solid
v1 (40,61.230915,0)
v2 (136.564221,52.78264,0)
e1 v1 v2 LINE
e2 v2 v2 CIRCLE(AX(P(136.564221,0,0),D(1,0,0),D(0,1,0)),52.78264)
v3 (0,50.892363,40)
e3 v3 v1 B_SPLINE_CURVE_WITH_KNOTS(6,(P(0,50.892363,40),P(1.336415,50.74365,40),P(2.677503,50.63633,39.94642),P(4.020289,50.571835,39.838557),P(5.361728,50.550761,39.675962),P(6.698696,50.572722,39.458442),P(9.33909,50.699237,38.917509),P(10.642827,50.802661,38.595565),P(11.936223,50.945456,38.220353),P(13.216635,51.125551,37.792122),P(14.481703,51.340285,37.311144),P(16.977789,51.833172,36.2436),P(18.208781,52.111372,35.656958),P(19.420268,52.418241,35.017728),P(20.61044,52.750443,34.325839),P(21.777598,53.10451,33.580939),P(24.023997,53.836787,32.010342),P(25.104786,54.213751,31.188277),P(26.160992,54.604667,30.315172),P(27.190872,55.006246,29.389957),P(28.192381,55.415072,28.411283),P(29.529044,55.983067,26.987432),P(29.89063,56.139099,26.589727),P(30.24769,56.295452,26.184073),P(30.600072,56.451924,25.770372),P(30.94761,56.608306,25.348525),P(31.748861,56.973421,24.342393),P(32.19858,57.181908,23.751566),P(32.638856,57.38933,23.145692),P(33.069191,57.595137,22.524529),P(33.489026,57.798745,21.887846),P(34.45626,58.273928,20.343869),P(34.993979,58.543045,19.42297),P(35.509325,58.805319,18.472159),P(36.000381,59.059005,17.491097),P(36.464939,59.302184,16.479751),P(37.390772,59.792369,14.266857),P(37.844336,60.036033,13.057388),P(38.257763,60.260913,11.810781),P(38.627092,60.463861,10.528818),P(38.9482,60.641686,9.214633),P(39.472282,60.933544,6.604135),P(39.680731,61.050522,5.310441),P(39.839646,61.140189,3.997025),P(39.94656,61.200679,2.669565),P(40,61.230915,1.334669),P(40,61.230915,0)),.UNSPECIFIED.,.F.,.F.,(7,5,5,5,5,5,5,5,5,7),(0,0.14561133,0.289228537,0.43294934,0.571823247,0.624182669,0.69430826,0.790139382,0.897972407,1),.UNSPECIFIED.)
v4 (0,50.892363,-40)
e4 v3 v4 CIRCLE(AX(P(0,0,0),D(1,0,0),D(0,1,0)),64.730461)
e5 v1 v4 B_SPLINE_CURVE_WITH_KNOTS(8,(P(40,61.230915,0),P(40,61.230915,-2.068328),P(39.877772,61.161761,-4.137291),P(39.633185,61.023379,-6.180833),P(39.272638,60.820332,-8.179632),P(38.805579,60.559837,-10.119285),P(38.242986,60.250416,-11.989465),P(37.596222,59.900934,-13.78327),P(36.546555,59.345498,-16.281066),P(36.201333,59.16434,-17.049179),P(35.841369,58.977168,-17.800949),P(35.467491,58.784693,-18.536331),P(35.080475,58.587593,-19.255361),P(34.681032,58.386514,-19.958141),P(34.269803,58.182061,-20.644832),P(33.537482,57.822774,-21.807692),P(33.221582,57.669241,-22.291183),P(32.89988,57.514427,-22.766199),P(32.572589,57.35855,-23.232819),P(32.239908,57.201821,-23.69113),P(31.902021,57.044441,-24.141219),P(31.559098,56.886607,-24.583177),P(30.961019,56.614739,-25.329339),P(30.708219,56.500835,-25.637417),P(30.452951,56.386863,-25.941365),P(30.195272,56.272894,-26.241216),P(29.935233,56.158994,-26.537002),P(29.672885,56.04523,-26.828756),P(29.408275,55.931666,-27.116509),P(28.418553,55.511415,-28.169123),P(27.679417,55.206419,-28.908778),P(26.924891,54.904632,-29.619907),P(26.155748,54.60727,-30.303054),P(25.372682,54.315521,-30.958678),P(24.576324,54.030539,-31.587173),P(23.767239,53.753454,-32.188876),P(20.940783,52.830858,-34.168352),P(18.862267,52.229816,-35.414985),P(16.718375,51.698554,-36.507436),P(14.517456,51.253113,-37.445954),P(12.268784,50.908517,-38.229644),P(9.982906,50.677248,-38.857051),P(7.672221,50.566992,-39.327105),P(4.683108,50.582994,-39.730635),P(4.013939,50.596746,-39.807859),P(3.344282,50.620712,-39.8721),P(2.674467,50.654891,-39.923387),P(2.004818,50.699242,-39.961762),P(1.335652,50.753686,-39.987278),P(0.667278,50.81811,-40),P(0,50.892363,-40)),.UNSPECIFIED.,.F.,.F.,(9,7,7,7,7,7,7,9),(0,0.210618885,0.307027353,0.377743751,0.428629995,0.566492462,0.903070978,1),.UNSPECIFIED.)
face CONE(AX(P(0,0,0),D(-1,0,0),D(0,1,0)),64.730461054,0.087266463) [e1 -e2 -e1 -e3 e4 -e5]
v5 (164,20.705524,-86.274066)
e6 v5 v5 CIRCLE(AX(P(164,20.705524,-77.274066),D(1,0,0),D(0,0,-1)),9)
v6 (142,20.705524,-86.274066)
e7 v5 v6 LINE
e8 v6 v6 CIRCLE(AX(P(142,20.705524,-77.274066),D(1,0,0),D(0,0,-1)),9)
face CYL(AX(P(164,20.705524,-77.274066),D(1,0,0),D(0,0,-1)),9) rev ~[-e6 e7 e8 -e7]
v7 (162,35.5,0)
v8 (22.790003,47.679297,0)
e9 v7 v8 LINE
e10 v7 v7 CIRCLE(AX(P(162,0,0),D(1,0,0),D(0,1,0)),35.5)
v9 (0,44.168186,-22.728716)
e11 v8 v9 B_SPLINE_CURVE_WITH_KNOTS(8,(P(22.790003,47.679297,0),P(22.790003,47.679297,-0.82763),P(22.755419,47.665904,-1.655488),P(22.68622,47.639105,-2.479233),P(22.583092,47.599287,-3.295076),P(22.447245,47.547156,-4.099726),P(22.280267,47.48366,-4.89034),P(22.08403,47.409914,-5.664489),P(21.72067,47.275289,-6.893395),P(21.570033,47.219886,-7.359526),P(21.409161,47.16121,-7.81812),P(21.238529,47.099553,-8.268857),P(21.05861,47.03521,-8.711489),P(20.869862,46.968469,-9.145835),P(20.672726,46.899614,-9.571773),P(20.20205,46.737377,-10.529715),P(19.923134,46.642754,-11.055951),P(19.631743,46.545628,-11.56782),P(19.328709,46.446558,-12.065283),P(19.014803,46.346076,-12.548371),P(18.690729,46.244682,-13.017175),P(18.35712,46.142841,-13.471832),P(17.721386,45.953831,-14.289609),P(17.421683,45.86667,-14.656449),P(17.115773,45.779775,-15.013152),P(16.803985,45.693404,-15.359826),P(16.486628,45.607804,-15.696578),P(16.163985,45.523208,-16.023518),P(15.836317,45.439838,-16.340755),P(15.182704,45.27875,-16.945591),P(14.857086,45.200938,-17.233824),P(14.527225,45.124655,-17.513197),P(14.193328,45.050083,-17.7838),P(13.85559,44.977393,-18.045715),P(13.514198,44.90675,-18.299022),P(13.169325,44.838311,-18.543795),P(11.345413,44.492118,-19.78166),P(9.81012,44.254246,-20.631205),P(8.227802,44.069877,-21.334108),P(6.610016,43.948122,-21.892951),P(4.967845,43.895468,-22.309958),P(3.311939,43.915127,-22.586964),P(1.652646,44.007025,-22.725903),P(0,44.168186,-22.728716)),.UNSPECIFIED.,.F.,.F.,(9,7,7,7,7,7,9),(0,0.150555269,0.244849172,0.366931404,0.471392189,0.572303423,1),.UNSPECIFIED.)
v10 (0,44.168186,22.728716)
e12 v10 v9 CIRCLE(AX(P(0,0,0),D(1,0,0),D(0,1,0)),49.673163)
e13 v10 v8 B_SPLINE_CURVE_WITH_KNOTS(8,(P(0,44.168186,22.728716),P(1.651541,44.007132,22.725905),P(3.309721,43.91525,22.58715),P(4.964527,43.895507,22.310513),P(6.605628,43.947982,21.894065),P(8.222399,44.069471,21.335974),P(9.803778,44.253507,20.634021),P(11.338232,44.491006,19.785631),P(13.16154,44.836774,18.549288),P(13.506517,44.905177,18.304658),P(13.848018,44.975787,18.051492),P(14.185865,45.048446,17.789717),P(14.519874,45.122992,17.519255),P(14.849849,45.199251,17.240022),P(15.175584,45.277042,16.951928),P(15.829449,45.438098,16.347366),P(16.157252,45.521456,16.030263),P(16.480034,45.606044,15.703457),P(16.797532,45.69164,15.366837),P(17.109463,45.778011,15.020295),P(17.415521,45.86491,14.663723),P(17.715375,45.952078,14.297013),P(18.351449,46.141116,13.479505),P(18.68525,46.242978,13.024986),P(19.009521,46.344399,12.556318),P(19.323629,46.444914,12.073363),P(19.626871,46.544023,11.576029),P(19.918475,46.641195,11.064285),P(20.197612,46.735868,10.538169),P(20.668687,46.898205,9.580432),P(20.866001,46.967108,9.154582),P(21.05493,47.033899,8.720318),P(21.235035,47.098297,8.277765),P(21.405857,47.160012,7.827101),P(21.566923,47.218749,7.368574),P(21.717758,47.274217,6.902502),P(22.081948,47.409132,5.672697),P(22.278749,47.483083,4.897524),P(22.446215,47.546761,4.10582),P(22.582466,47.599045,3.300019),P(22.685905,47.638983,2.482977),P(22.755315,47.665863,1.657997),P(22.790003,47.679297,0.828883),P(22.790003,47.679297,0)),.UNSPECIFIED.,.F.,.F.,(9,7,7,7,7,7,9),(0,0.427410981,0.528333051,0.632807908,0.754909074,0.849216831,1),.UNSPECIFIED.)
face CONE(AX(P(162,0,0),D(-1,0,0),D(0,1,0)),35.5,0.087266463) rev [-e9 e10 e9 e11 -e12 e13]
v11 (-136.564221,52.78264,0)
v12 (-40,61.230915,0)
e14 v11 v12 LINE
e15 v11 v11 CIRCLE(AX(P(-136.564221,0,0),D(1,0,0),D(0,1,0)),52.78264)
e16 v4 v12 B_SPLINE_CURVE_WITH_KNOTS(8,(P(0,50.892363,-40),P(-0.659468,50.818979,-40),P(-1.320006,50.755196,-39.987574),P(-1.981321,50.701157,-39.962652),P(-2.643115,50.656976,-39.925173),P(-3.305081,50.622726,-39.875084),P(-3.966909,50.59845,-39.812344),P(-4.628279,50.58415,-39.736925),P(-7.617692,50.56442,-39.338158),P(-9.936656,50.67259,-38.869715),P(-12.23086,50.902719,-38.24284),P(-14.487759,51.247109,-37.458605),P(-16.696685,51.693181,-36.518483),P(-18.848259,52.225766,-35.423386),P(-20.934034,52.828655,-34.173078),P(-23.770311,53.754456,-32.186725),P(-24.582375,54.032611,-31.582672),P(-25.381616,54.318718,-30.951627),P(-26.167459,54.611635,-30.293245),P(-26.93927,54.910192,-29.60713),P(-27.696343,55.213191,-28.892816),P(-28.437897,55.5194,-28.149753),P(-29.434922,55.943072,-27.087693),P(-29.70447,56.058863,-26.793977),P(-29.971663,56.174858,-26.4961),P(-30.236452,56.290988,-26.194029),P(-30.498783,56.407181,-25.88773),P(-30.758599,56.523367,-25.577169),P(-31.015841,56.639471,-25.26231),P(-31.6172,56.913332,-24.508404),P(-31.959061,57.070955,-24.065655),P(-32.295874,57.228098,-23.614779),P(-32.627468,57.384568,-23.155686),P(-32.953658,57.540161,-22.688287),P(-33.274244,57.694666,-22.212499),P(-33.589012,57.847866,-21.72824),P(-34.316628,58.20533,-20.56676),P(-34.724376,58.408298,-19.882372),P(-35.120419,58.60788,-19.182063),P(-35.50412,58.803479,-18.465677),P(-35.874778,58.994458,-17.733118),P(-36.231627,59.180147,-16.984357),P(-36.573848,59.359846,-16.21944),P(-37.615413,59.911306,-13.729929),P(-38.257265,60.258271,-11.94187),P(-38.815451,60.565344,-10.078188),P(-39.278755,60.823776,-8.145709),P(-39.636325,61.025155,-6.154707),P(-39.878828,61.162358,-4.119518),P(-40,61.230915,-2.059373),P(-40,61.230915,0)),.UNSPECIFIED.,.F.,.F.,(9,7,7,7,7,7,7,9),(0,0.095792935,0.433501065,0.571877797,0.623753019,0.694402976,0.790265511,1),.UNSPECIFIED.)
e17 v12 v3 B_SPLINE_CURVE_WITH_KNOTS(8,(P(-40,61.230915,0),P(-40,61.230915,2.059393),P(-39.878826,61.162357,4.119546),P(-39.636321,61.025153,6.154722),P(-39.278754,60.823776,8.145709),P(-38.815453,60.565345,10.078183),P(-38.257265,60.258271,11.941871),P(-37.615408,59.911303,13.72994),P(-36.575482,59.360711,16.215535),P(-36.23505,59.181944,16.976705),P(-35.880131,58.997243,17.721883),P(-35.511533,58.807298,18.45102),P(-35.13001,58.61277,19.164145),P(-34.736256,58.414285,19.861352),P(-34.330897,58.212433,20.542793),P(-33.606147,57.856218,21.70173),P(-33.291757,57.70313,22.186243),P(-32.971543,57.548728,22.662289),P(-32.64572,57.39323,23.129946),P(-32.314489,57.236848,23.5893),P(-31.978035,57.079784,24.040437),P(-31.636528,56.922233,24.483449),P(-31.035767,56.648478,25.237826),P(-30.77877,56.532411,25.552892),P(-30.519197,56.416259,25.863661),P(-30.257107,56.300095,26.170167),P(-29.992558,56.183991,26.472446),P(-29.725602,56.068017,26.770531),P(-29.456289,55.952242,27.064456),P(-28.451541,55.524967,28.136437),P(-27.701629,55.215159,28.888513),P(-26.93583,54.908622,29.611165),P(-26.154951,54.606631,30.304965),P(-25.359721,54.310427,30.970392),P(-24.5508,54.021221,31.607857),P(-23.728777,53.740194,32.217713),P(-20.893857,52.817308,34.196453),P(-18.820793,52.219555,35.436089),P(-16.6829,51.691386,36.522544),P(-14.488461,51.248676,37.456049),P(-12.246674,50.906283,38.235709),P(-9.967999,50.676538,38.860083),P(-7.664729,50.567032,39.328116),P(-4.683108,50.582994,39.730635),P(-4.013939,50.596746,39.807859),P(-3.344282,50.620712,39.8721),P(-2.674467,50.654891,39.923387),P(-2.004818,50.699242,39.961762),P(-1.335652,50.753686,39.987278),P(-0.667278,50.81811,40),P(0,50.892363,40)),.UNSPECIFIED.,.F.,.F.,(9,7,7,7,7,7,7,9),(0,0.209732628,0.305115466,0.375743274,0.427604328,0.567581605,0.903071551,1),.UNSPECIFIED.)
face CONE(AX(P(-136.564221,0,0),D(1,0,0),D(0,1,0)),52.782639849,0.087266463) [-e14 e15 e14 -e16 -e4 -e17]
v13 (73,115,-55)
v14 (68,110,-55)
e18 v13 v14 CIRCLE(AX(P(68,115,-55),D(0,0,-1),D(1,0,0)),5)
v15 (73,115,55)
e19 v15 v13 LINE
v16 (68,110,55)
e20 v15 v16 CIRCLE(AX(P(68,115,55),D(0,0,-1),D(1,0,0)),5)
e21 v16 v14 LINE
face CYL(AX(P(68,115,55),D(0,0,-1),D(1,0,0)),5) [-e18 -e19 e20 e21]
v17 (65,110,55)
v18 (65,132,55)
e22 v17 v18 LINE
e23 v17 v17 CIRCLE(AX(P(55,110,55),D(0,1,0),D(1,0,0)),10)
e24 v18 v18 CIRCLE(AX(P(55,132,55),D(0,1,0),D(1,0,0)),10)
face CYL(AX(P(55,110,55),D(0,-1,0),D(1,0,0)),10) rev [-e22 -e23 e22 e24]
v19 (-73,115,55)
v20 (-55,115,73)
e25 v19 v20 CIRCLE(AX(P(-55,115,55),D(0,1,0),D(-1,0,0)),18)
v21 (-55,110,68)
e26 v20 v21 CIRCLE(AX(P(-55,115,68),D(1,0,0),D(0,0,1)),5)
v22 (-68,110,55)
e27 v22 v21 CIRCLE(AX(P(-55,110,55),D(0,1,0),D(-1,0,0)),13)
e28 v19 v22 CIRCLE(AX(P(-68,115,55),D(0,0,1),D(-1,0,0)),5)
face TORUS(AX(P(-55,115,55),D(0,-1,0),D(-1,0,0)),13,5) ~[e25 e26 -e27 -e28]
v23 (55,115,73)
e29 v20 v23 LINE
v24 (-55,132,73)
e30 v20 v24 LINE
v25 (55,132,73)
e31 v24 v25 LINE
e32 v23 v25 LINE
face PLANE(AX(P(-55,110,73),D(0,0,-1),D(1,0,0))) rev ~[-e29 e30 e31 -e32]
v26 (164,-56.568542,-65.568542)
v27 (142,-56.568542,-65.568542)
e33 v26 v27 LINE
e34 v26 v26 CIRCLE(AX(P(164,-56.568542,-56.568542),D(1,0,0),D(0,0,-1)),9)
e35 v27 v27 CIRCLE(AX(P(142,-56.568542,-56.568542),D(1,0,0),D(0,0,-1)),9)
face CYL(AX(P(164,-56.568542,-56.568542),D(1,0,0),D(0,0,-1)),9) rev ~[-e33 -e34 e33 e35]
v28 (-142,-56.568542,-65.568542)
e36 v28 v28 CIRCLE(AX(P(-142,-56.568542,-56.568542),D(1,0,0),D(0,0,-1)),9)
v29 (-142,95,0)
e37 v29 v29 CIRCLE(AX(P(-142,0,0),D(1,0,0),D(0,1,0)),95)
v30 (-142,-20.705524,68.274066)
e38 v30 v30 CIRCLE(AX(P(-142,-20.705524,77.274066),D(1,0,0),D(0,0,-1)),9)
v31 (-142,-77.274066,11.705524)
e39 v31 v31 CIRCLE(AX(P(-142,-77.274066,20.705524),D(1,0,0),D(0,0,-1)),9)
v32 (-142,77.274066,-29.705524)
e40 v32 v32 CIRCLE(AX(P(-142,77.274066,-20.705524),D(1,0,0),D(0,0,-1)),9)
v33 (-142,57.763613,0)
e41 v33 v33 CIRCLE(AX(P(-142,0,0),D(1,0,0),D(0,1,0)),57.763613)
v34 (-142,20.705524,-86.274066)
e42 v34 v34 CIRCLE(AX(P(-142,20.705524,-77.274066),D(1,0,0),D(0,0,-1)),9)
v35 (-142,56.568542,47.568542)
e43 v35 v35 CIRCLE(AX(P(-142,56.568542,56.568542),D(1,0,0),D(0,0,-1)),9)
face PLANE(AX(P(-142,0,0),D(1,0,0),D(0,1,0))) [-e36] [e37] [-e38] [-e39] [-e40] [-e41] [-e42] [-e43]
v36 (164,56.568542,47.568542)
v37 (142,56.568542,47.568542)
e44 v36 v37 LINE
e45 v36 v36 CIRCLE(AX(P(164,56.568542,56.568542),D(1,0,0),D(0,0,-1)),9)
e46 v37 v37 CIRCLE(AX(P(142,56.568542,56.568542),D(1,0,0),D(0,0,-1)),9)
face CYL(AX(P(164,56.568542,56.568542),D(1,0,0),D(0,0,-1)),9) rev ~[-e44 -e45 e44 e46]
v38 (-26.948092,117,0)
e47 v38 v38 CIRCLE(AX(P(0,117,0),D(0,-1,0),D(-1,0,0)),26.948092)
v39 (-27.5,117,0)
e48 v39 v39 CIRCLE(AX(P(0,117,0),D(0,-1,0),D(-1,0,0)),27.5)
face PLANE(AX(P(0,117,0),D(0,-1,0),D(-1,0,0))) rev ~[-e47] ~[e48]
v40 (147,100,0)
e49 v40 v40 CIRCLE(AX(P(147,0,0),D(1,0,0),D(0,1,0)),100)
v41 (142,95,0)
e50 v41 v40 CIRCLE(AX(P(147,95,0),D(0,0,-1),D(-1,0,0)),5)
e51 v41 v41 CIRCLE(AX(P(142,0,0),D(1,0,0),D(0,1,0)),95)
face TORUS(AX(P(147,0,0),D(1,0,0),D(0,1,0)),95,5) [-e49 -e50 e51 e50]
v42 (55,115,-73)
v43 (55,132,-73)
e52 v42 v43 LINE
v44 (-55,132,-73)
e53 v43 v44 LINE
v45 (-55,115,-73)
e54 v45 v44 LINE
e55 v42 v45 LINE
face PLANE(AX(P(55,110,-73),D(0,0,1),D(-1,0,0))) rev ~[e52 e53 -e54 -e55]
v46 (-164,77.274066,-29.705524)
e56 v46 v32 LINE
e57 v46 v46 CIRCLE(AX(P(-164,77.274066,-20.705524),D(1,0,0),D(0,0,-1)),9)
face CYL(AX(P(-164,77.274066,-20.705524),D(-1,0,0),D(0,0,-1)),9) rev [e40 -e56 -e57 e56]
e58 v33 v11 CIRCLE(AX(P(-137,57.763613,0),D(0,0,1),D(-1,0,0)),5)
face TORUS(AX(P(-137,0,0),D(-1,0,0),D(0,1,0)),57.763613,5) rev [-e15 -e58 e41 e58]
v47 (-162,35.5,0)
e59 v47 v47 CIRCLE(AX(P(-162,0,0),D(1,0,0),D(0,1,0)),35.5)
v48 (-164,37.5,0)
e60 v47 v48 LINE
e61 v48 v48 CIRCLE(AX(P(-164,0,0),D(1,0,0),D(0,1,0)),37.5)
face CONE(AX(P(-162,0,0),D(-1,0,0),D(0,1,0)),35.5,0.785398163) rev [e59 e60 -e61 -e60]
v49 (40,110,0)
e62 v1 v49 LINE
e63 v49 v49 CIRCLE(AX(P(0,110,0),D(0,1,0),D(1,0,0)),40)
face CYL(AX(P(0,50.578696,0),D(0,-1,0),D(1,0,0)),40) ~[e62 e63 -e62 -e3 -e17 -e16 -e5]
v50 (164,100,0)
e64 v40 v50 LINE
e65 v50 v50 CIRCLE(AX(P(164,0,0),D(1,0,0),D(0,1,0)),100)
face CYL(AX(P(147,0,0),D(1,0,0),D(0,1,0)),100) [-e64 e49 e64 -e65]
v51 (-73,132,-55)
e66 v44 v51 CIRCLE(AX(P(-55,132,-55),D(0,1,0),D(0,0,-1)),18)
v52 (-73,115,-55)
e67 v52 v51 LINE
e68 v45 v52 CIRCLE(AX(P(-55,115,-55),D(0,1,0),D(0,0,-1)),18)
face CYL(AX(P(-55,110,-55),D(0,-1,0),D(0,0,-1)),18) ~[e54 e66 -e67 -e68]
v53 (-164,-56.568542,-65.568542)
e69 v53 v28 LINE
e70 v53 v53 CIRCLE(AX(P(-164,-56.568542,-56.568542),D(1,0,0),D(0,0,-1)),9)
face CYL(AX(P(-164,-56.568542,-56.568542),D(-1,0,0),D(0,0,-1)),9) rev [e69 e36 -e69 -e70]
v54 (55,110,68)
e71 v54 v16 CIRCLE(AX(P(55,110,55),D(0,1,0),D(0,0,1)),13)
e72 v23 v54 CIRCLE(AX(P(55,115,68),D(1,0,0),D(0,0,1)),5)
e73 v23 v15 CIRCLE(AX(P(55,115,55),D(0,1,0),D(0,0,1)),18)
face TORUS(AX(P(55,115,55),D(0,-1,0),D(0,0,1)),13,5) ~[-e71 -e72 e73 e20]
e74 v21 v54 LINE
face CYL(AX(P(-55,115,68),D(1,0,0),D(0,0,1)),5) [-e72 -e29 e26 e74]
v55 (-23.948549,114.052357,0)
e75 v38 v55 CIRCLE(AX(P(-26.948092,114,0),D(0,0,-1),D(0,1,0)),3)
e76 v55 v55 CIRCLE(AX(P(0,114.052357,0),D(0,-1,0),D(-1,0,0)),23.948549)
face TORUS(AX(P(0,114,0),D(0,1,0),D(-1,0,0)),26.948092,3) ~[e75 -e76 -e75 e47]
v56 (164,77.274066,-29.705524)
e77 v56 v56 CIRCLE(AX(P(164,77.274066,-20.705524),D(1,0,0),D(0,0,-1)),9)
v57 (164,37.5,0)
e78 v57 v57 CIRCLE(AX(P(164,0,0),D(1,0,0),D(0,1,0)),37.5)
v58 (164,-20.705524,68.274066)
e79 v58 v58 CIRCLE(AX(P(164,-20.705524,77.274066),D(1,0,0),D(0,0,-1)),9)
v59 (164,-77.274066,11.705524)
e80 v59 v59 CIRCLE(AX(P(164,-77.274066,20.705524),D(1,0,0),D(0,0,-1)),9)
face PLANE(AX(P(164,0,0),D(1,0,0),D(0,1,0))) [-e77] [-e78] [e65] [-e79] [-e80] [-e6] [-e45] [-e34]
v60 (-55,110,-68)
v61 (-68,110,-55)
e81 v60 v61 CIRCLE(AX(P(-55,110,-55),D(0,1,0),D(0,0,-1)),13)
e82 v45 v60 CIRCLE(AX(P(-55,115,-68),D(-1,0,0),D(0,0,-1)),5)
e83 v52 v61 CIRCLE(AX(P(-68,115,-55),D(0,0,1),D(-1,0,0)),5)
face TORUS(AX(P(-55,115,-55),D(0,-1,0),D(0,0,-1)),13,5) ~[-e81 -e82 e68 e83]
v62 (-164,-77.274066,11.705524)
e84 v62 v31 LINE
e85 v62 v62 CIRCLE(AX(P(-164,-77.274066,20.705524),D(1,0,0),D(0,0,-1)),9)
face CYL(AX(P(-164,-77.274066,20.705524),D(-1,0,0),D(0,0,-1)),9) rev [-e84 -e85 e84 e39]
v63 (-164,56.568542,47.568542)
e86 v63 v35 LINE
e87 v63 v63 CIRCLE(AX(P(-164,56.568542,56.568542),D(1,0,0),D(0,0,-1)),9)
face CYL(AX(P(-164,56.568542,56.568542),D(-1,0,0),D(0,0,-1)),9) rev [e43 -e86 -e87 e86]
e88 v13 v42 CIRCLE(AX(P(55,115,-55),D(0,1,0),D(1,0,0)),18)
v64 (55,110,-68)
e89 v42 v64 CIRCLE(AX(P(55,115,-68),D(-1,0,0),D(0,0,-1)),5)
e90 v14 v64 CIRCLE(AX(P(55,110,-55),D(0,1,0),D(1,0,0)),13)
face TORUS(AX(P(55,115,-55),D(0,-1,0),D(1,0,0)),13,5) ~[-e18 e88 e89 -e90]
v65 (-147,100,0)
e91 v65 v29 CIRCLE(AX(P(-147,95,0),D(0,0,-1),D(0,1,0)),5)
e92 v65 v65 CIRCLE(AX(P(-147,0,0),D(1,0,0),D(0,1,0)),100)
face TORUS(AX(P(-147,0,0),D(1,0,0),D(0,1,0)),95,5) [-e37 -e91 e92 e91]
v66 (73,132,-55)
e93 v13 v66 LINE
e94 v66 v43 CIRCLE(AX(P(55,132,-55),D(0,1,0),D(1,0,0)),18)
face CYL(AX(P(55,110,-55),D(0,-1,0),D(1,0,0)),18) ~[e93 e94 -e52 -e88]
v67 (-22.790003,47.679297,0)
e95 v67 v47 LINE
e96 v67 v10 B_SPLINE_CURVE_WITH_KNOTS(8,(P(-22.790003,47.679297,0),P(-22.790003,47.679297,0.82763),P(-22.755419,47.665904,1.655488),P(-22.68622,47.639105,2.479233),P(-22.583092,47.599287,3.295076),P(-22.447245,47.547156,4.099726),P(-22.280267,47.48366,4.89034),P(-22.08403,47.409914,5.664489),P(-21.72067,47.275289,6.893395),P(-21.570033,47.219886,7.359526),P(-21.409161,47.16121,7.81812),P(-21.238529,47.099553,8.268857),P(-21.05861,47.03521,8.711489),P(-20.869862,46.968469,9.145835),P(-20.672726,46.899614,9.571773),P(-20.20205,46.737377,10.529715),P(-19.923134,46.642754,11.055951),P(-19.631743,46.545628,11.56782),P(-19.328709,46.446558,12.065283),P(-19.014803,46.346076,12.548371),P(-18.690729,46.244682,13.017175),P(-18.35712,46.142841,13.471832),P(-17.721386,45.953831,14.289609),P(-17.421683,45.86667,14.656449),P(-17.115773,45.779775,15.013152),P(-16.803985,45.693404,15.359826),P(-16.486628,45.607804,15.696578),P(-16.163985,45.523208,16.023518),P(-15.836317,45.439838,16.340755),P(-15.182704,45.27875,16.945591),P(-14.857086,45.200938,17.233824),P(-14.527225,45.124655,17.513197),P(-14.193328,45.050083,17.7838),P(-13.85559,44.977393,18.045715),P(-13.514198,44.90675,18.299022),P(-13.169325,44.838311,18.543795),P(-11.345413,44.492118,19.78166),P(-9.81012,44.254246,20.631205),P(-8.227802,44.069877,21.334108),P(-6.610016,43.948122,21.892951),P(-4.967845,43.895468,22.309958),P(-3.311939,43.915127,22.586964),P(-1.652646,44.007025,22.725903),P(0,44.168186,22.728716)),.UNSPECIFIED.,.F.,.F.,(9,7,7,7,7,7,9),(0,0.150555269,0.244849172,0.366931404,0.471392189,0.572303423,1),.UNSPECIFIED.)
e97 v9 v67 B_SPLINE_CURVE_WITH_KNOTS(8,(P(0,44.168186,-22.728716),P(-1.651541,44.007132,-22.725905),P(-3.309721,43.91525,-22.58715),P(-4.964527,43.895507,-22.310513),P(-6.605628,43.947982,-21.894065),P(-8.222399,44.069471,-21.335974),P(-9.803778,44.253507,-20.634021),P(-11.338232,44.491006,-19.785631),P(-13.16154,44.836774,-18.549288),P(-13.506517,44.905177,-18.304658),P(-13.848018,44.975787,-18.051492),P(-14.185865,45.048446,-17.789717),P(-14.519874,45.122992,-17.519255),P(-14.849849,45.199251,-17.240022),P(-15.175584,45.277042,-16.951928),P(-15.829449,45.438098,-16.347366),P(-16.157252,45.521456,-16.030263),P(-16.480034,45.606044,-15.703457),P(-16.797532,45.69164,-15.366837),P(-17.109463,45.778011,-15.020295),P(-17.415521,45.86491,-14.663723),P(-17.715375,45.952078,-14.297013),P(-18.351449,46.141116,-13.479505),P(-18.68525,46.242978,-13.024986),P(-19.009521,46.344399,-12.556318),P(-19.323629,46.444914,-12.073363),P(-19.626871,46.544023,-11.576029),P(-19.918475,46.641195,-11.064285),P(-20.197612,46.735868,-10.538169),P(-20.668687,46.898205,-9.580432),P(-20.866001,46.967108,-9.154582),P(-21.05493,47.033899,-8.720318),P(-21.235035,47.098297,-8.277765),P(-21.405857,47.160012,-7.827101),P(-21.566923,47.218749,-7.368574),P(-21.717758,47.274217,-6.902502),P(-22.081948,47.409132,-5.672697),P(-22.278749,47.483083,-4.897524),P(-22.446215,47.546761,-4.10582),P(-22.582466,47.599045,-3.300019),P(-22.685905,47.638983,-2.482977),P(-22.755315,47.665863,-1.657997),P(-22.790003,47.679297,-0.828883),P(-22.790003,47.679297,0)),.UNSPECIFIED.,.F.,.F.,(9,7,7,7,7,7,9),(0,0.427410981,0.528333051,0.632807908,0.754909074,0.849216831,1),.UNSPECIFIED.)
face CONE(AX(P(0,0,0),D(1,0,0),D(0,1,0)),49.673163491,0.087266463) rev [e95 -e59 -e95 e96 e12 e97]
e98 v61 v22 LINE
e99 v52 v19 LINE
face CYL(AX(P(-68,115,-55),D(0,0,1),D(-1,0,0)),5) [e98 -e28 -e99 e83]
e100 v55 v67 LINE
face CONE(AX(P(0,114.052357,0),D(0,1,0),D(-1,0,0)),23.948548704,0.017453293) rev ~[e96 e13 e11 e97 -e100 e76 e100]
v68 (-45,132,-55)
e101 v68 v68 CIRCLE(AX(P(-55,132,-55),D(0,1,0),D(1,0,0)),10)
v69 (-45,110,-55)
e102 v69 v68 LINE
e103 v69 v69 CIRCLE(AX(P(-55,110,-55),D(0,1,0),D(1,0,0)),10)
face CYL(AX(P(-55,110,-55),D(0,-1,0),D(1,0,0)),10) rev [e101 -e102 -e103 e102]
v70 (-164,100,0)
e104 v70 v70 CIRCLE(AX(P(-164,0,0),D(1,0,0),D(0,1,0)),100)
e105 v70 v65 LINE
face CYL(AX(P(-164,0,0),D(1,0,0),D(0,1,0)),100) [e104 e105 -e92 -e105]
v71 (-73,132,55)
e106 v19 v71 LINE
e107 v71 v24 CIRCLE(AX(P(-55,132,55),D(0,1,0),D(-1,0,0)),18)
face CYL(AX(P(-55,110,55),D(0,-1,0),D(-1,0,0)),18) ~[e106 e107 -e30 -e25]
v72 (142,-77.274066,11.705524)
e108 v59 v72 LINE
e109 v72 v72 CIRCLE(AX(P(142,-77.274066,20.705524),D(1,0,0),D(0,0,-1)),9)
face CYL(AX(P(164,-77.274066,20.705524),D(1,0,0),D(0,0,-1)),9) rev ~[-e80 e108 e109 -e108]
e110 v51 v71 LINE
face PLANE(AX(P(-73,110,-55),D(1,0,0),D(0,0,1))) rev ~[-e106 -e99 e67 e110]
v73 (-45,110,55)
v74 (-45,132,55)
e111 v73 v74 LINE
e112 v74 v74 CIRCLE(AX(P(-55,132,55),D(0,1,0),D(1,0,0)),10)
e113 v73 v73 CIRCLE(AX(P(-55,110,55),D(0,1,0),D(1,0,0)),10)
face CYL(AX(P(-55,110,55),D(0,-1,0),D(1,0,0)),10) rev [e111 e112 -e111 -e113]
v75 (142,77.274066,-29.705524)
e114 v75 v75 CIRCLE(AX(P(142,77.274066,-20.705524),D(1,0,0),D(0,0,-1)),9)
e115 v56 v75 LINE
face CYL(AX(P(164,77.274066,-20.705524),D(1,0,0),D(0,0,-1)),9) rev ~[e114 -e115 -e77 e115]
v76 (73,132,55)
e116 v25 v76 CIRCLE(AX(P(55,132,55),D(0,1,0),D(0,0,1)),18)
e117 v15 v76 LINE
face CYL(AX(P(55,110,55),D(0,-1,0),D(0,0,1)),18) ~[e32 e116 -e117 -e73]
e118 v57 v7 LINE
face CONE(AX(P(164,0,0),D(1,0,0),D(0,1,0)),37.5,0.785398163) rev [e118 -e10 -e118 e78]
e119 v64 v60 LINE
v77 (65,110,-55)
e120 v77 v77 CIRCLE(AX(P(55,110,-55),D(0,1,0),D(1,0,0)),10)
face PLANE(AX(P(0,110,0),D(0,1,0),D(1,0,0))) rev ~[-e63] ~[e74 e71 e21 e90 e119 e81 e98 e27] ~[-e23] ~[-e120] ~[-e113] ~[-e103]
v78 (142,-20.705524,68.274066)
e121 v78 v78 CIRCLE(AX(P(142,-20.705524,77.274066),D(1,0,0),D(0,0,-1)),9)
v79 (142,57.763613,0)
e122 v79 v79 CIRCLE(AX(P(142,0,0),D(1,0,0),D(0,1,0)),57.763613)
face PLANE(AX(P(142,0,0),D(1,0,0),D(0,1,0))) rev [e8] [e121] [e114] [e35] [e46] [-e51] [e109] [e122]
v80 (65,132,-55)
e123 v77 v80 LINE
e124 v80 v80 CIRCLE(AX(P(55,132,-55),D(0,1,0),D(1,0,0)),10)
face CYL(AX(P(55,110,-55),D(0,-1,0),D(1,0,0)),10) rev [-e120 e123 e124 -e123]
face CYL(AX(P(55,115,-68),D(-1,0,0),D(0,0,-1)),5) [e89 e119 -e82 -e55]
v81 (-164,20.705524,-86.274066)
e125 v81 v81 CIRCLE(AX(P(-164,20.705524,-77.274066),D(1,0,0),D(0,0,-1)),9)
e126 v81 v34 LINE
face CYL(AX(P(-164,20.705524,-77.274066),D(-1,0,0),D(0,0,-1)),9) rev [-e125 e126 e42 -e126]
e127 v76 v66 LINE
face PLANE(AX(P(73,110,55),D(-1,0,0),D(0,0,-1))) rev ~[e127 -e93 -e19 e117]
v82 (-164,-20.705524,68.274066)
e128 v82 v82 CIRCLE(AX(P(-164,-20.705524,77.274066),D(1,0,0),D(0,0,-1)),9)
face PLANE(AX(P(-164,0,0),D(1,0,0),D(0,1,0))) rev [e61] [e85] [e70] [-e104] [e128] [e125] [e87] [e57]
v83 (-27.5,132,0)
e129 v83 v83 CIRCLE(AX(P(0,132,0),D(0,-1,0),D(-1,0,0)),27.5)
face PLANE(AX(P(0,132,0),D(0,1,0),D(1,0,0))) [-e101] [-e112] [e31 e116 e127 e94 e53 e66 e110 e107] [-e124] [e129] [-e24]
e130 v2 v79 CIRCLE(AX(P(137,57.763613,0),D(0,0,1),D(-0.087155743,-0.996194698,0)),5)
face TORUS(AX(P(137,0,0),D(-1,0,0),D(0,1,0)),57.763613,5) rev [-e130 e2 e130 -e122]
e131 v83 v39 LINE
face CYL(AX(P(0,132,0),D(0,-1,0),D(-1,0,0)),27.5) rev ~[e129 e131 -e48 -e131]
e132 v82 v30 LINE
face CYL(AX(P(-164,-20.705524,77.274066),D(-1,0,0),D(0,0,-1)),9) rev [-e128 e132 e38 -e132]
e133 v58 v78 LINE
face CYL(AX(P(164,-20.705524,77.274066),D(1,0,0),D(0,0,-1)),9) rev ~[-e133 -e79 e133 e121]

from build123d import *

# Parameters (mm, degrees)
BOSS_EXTRUDE1_START = 50.578696
SKETCH3_R           = 40
BOSS_EXTRUDE1_DEPTH = 59.421304
SKETCH5_R           = 10
BOSS_EXTRUDE2_DEPTH = 22
SKETCH7_R           = 9
CUT_EXTRUDE3_DEPTH  = 22
CUT_EXTRUDE4_START  = -328
SKETCH7_8_R         = 9
CUT_EXTRUDE4_DEPTH  = 22
FILLET1_R           = 5


with BuildPart() as part:
    # Sketch2 → Revolve1 (revolve)
    with BuildSketch(Plane.XY):
        with BuildLine():
            Line((-164, 100), (-147, 100))
            ThreePointArc((-147, 100), (-143.464466094, 98.535533906), (-142, 95))
            Line((-142, 95), (-142, 57.763613339))
            ThreePointArc((-142, 57.763613339), (-140.377951038, 54.077226655), (-136.564221286, 52.782639849))
            Line((-136.564221286, 52.782639849), (0, 64.730461054))
            Line((0, 64.730461054), (136.564221286, 52.782639849))
            ThreePointArc((136.564221286, 52.782639849), (140.377951038, 54.077226655), (142, 57.763613339))
            Line((142, 57.763613339), (142, 95))
            ThreePointArc((142, 95), (143.464466094, 98.535533906), (147, 100))
            Line((147, 100), (164, 100))
            Line((164, 100), (164, 37.5))
            Line((164, 37.5), (162, 35.5))
            Line((162, 35.5), (0, 49.673163491))
            Line((0, 49.673163491), (-162, 35.5))
            Line((-162, 35.5), (-164, 37.5))
            Line((-164, 37.5), (-164, 100))
        make_face()
    revolve(axis=Axis((-164, 0, 0), (1, 0, 0)))

    # Sketch3 → Boss-Extrude1 (add)
    with BuildSketch(Plane(origin=(0, 0, 0), x_dir=(1, 0, 0), z_dir=(0, 1, 0)).offset(BOSS_EXTRUDE1_START)):
        Circle(SKETCH3_R)
    extrude(amount=BOSS_EXTRUDE1_DEPTH)

    # Sketch5 → Boss-Extrude2 (add)
    with BuildSketch(Plane(origin=(0, 110, 0), x_dir=(1, 0, 0), z_dir=(0, 1, 0))):
        with BuildLine():
            Line((55, 73), (-55, 73))
            ThreePointArc((-55, 73), (-67.727922061, 67.727922061), (-73, 55))
            Line((-73, 55), (-73, -55))
            ThreePointArc((-73, -55), (-67.727922061, -67.727922061), (-55, -73))
            Line((-55, -73), (55, -73))
            ThreePointArc((55, -73), (67.727922061, -67.727922061), (73, -55))
            Line((73, -55), (73, 55))
            ThreePointArc((73, 55), (67.727922061, 67.727922061), (55, 73))
        make_face()
        with Locations((-55, 55)):
            Circle(SKETCH5_R, mode=Mode.SUBTRACT)
        with Locations((55, 55)):
            Circle(SKETCH5_R, mode=Mode.SUBTRACT)
        with Locations((55, -55)):
            Circle(SKETCH5_R, mode=Mode.SUBTRACT)
        with Locations((-55, -55)):
            Circle(SKETCH5_R, mode=Mode.SUBTRACT)
    extrude(amount=BOSS_EXTRUDE2_DEPTH)

    # Sketch6 → Cut-Revolve2 (revolve, cut)
    with BuildSketch(Plane.XY):
        with BuildLine():
            Line((0, 132), (-27.5, 132))
            Line((-27.5, 132), (-27.5, 117))
            Line((-27.5, 117), (-26.948091789, 117))
            ThreePointArc((-26.948091789, 117), (-24.845363996, 116.139751347), (-23.948548704, 114.052357219))
            Line((-23.948548704, 114.052357219), (-21.836984951, -6.919049142))
            Line((-21.836984951, -6.919049142), (0, -6.919049142))
            Line((0, -6.919049142), (0, 132))
        make_face()
    revolve(axis=Axis((0, 132, 0), (0, -1, 0)), mode=Mode.SUBTRACT)

    # Sketch7 → Cut-Extrude3 (cut)
    with BuildSketch(Plane(origin=(164, 0, 0), x_dir=(0, 0, -1), z_dir=(1, 0, 0))):
        with Locations((-77.274066103, -20.705523608)):
            Circle(SKETCH7_R)
        with Locations((-56.568542495, 56.568542495)):
            Circle(SKETCH7_R)
        with Locations((20.705523608, 77.274066103)):
            Circle(SKETCH7_R)
        with Locations((77.274066103, 20.705523608)):
            Circle(SKETCH7_R)
        with Locations((56.568542495, -56.568542495)):
            Circle(SKETCH7_R)
        with Locations((-20.705523608, -77.274066103)):
            Circle(SKETCH7_R)
    extrude(amount=-CUT_EXTRUDE3_DEPTH, mode=Mode.SUBTRACT)

    # Sketch7<8> → Cut-Extrude4 (cut)
    with BuildSketch(Plane(origin=(164, 0, 0), x_dir=(0, 0, -1), z_dir=(1, 0, 0)).offset(CUT_EXTRUDE4_START)):
        with Locations((-77.274066103, -20.705523608)):
            Circle(SKETCH7_8_R)
        with Locations((-56.568542495, 56.568542495)):
            Circle(SKETCH7_8_R)
        with Locations((20.705523608, 77.274066103)):
            Circle(SKETCH7_8_R)
        with Locations((77.274066103, 20.705523608)):
            Circle(SKETCH7_8_R)
        with Locations((56.568542495, -56.568542495)):
            Circle(SKETCH7_8_R)
        with Locations((-20.705523608, -77.274066103)):
            Circle(SKETCH7_8_R)
    extrude(amount=CUT_EXTRUDE4_DEPTH, mode=Mode.SUBTRACT)

    # Fillet1
    fillet1_edges = [part.edges().sort_by_distance(p)[0] for p in [
        (67.727922061, 110, -67.727922061),
        (0, 110, -73),
        (-67.727922061, 110, -67.727922061),
        (-73, 110, 0),
        (-67.727922061, 110, 67.727922061),
        (0, 110, 73),
        (67.727922061, 110, 67.727922061),
        (73, 110, 0),
    ]]
    fillet(fillet1_edges, radius=FILLET1_R)


solid = part.part
